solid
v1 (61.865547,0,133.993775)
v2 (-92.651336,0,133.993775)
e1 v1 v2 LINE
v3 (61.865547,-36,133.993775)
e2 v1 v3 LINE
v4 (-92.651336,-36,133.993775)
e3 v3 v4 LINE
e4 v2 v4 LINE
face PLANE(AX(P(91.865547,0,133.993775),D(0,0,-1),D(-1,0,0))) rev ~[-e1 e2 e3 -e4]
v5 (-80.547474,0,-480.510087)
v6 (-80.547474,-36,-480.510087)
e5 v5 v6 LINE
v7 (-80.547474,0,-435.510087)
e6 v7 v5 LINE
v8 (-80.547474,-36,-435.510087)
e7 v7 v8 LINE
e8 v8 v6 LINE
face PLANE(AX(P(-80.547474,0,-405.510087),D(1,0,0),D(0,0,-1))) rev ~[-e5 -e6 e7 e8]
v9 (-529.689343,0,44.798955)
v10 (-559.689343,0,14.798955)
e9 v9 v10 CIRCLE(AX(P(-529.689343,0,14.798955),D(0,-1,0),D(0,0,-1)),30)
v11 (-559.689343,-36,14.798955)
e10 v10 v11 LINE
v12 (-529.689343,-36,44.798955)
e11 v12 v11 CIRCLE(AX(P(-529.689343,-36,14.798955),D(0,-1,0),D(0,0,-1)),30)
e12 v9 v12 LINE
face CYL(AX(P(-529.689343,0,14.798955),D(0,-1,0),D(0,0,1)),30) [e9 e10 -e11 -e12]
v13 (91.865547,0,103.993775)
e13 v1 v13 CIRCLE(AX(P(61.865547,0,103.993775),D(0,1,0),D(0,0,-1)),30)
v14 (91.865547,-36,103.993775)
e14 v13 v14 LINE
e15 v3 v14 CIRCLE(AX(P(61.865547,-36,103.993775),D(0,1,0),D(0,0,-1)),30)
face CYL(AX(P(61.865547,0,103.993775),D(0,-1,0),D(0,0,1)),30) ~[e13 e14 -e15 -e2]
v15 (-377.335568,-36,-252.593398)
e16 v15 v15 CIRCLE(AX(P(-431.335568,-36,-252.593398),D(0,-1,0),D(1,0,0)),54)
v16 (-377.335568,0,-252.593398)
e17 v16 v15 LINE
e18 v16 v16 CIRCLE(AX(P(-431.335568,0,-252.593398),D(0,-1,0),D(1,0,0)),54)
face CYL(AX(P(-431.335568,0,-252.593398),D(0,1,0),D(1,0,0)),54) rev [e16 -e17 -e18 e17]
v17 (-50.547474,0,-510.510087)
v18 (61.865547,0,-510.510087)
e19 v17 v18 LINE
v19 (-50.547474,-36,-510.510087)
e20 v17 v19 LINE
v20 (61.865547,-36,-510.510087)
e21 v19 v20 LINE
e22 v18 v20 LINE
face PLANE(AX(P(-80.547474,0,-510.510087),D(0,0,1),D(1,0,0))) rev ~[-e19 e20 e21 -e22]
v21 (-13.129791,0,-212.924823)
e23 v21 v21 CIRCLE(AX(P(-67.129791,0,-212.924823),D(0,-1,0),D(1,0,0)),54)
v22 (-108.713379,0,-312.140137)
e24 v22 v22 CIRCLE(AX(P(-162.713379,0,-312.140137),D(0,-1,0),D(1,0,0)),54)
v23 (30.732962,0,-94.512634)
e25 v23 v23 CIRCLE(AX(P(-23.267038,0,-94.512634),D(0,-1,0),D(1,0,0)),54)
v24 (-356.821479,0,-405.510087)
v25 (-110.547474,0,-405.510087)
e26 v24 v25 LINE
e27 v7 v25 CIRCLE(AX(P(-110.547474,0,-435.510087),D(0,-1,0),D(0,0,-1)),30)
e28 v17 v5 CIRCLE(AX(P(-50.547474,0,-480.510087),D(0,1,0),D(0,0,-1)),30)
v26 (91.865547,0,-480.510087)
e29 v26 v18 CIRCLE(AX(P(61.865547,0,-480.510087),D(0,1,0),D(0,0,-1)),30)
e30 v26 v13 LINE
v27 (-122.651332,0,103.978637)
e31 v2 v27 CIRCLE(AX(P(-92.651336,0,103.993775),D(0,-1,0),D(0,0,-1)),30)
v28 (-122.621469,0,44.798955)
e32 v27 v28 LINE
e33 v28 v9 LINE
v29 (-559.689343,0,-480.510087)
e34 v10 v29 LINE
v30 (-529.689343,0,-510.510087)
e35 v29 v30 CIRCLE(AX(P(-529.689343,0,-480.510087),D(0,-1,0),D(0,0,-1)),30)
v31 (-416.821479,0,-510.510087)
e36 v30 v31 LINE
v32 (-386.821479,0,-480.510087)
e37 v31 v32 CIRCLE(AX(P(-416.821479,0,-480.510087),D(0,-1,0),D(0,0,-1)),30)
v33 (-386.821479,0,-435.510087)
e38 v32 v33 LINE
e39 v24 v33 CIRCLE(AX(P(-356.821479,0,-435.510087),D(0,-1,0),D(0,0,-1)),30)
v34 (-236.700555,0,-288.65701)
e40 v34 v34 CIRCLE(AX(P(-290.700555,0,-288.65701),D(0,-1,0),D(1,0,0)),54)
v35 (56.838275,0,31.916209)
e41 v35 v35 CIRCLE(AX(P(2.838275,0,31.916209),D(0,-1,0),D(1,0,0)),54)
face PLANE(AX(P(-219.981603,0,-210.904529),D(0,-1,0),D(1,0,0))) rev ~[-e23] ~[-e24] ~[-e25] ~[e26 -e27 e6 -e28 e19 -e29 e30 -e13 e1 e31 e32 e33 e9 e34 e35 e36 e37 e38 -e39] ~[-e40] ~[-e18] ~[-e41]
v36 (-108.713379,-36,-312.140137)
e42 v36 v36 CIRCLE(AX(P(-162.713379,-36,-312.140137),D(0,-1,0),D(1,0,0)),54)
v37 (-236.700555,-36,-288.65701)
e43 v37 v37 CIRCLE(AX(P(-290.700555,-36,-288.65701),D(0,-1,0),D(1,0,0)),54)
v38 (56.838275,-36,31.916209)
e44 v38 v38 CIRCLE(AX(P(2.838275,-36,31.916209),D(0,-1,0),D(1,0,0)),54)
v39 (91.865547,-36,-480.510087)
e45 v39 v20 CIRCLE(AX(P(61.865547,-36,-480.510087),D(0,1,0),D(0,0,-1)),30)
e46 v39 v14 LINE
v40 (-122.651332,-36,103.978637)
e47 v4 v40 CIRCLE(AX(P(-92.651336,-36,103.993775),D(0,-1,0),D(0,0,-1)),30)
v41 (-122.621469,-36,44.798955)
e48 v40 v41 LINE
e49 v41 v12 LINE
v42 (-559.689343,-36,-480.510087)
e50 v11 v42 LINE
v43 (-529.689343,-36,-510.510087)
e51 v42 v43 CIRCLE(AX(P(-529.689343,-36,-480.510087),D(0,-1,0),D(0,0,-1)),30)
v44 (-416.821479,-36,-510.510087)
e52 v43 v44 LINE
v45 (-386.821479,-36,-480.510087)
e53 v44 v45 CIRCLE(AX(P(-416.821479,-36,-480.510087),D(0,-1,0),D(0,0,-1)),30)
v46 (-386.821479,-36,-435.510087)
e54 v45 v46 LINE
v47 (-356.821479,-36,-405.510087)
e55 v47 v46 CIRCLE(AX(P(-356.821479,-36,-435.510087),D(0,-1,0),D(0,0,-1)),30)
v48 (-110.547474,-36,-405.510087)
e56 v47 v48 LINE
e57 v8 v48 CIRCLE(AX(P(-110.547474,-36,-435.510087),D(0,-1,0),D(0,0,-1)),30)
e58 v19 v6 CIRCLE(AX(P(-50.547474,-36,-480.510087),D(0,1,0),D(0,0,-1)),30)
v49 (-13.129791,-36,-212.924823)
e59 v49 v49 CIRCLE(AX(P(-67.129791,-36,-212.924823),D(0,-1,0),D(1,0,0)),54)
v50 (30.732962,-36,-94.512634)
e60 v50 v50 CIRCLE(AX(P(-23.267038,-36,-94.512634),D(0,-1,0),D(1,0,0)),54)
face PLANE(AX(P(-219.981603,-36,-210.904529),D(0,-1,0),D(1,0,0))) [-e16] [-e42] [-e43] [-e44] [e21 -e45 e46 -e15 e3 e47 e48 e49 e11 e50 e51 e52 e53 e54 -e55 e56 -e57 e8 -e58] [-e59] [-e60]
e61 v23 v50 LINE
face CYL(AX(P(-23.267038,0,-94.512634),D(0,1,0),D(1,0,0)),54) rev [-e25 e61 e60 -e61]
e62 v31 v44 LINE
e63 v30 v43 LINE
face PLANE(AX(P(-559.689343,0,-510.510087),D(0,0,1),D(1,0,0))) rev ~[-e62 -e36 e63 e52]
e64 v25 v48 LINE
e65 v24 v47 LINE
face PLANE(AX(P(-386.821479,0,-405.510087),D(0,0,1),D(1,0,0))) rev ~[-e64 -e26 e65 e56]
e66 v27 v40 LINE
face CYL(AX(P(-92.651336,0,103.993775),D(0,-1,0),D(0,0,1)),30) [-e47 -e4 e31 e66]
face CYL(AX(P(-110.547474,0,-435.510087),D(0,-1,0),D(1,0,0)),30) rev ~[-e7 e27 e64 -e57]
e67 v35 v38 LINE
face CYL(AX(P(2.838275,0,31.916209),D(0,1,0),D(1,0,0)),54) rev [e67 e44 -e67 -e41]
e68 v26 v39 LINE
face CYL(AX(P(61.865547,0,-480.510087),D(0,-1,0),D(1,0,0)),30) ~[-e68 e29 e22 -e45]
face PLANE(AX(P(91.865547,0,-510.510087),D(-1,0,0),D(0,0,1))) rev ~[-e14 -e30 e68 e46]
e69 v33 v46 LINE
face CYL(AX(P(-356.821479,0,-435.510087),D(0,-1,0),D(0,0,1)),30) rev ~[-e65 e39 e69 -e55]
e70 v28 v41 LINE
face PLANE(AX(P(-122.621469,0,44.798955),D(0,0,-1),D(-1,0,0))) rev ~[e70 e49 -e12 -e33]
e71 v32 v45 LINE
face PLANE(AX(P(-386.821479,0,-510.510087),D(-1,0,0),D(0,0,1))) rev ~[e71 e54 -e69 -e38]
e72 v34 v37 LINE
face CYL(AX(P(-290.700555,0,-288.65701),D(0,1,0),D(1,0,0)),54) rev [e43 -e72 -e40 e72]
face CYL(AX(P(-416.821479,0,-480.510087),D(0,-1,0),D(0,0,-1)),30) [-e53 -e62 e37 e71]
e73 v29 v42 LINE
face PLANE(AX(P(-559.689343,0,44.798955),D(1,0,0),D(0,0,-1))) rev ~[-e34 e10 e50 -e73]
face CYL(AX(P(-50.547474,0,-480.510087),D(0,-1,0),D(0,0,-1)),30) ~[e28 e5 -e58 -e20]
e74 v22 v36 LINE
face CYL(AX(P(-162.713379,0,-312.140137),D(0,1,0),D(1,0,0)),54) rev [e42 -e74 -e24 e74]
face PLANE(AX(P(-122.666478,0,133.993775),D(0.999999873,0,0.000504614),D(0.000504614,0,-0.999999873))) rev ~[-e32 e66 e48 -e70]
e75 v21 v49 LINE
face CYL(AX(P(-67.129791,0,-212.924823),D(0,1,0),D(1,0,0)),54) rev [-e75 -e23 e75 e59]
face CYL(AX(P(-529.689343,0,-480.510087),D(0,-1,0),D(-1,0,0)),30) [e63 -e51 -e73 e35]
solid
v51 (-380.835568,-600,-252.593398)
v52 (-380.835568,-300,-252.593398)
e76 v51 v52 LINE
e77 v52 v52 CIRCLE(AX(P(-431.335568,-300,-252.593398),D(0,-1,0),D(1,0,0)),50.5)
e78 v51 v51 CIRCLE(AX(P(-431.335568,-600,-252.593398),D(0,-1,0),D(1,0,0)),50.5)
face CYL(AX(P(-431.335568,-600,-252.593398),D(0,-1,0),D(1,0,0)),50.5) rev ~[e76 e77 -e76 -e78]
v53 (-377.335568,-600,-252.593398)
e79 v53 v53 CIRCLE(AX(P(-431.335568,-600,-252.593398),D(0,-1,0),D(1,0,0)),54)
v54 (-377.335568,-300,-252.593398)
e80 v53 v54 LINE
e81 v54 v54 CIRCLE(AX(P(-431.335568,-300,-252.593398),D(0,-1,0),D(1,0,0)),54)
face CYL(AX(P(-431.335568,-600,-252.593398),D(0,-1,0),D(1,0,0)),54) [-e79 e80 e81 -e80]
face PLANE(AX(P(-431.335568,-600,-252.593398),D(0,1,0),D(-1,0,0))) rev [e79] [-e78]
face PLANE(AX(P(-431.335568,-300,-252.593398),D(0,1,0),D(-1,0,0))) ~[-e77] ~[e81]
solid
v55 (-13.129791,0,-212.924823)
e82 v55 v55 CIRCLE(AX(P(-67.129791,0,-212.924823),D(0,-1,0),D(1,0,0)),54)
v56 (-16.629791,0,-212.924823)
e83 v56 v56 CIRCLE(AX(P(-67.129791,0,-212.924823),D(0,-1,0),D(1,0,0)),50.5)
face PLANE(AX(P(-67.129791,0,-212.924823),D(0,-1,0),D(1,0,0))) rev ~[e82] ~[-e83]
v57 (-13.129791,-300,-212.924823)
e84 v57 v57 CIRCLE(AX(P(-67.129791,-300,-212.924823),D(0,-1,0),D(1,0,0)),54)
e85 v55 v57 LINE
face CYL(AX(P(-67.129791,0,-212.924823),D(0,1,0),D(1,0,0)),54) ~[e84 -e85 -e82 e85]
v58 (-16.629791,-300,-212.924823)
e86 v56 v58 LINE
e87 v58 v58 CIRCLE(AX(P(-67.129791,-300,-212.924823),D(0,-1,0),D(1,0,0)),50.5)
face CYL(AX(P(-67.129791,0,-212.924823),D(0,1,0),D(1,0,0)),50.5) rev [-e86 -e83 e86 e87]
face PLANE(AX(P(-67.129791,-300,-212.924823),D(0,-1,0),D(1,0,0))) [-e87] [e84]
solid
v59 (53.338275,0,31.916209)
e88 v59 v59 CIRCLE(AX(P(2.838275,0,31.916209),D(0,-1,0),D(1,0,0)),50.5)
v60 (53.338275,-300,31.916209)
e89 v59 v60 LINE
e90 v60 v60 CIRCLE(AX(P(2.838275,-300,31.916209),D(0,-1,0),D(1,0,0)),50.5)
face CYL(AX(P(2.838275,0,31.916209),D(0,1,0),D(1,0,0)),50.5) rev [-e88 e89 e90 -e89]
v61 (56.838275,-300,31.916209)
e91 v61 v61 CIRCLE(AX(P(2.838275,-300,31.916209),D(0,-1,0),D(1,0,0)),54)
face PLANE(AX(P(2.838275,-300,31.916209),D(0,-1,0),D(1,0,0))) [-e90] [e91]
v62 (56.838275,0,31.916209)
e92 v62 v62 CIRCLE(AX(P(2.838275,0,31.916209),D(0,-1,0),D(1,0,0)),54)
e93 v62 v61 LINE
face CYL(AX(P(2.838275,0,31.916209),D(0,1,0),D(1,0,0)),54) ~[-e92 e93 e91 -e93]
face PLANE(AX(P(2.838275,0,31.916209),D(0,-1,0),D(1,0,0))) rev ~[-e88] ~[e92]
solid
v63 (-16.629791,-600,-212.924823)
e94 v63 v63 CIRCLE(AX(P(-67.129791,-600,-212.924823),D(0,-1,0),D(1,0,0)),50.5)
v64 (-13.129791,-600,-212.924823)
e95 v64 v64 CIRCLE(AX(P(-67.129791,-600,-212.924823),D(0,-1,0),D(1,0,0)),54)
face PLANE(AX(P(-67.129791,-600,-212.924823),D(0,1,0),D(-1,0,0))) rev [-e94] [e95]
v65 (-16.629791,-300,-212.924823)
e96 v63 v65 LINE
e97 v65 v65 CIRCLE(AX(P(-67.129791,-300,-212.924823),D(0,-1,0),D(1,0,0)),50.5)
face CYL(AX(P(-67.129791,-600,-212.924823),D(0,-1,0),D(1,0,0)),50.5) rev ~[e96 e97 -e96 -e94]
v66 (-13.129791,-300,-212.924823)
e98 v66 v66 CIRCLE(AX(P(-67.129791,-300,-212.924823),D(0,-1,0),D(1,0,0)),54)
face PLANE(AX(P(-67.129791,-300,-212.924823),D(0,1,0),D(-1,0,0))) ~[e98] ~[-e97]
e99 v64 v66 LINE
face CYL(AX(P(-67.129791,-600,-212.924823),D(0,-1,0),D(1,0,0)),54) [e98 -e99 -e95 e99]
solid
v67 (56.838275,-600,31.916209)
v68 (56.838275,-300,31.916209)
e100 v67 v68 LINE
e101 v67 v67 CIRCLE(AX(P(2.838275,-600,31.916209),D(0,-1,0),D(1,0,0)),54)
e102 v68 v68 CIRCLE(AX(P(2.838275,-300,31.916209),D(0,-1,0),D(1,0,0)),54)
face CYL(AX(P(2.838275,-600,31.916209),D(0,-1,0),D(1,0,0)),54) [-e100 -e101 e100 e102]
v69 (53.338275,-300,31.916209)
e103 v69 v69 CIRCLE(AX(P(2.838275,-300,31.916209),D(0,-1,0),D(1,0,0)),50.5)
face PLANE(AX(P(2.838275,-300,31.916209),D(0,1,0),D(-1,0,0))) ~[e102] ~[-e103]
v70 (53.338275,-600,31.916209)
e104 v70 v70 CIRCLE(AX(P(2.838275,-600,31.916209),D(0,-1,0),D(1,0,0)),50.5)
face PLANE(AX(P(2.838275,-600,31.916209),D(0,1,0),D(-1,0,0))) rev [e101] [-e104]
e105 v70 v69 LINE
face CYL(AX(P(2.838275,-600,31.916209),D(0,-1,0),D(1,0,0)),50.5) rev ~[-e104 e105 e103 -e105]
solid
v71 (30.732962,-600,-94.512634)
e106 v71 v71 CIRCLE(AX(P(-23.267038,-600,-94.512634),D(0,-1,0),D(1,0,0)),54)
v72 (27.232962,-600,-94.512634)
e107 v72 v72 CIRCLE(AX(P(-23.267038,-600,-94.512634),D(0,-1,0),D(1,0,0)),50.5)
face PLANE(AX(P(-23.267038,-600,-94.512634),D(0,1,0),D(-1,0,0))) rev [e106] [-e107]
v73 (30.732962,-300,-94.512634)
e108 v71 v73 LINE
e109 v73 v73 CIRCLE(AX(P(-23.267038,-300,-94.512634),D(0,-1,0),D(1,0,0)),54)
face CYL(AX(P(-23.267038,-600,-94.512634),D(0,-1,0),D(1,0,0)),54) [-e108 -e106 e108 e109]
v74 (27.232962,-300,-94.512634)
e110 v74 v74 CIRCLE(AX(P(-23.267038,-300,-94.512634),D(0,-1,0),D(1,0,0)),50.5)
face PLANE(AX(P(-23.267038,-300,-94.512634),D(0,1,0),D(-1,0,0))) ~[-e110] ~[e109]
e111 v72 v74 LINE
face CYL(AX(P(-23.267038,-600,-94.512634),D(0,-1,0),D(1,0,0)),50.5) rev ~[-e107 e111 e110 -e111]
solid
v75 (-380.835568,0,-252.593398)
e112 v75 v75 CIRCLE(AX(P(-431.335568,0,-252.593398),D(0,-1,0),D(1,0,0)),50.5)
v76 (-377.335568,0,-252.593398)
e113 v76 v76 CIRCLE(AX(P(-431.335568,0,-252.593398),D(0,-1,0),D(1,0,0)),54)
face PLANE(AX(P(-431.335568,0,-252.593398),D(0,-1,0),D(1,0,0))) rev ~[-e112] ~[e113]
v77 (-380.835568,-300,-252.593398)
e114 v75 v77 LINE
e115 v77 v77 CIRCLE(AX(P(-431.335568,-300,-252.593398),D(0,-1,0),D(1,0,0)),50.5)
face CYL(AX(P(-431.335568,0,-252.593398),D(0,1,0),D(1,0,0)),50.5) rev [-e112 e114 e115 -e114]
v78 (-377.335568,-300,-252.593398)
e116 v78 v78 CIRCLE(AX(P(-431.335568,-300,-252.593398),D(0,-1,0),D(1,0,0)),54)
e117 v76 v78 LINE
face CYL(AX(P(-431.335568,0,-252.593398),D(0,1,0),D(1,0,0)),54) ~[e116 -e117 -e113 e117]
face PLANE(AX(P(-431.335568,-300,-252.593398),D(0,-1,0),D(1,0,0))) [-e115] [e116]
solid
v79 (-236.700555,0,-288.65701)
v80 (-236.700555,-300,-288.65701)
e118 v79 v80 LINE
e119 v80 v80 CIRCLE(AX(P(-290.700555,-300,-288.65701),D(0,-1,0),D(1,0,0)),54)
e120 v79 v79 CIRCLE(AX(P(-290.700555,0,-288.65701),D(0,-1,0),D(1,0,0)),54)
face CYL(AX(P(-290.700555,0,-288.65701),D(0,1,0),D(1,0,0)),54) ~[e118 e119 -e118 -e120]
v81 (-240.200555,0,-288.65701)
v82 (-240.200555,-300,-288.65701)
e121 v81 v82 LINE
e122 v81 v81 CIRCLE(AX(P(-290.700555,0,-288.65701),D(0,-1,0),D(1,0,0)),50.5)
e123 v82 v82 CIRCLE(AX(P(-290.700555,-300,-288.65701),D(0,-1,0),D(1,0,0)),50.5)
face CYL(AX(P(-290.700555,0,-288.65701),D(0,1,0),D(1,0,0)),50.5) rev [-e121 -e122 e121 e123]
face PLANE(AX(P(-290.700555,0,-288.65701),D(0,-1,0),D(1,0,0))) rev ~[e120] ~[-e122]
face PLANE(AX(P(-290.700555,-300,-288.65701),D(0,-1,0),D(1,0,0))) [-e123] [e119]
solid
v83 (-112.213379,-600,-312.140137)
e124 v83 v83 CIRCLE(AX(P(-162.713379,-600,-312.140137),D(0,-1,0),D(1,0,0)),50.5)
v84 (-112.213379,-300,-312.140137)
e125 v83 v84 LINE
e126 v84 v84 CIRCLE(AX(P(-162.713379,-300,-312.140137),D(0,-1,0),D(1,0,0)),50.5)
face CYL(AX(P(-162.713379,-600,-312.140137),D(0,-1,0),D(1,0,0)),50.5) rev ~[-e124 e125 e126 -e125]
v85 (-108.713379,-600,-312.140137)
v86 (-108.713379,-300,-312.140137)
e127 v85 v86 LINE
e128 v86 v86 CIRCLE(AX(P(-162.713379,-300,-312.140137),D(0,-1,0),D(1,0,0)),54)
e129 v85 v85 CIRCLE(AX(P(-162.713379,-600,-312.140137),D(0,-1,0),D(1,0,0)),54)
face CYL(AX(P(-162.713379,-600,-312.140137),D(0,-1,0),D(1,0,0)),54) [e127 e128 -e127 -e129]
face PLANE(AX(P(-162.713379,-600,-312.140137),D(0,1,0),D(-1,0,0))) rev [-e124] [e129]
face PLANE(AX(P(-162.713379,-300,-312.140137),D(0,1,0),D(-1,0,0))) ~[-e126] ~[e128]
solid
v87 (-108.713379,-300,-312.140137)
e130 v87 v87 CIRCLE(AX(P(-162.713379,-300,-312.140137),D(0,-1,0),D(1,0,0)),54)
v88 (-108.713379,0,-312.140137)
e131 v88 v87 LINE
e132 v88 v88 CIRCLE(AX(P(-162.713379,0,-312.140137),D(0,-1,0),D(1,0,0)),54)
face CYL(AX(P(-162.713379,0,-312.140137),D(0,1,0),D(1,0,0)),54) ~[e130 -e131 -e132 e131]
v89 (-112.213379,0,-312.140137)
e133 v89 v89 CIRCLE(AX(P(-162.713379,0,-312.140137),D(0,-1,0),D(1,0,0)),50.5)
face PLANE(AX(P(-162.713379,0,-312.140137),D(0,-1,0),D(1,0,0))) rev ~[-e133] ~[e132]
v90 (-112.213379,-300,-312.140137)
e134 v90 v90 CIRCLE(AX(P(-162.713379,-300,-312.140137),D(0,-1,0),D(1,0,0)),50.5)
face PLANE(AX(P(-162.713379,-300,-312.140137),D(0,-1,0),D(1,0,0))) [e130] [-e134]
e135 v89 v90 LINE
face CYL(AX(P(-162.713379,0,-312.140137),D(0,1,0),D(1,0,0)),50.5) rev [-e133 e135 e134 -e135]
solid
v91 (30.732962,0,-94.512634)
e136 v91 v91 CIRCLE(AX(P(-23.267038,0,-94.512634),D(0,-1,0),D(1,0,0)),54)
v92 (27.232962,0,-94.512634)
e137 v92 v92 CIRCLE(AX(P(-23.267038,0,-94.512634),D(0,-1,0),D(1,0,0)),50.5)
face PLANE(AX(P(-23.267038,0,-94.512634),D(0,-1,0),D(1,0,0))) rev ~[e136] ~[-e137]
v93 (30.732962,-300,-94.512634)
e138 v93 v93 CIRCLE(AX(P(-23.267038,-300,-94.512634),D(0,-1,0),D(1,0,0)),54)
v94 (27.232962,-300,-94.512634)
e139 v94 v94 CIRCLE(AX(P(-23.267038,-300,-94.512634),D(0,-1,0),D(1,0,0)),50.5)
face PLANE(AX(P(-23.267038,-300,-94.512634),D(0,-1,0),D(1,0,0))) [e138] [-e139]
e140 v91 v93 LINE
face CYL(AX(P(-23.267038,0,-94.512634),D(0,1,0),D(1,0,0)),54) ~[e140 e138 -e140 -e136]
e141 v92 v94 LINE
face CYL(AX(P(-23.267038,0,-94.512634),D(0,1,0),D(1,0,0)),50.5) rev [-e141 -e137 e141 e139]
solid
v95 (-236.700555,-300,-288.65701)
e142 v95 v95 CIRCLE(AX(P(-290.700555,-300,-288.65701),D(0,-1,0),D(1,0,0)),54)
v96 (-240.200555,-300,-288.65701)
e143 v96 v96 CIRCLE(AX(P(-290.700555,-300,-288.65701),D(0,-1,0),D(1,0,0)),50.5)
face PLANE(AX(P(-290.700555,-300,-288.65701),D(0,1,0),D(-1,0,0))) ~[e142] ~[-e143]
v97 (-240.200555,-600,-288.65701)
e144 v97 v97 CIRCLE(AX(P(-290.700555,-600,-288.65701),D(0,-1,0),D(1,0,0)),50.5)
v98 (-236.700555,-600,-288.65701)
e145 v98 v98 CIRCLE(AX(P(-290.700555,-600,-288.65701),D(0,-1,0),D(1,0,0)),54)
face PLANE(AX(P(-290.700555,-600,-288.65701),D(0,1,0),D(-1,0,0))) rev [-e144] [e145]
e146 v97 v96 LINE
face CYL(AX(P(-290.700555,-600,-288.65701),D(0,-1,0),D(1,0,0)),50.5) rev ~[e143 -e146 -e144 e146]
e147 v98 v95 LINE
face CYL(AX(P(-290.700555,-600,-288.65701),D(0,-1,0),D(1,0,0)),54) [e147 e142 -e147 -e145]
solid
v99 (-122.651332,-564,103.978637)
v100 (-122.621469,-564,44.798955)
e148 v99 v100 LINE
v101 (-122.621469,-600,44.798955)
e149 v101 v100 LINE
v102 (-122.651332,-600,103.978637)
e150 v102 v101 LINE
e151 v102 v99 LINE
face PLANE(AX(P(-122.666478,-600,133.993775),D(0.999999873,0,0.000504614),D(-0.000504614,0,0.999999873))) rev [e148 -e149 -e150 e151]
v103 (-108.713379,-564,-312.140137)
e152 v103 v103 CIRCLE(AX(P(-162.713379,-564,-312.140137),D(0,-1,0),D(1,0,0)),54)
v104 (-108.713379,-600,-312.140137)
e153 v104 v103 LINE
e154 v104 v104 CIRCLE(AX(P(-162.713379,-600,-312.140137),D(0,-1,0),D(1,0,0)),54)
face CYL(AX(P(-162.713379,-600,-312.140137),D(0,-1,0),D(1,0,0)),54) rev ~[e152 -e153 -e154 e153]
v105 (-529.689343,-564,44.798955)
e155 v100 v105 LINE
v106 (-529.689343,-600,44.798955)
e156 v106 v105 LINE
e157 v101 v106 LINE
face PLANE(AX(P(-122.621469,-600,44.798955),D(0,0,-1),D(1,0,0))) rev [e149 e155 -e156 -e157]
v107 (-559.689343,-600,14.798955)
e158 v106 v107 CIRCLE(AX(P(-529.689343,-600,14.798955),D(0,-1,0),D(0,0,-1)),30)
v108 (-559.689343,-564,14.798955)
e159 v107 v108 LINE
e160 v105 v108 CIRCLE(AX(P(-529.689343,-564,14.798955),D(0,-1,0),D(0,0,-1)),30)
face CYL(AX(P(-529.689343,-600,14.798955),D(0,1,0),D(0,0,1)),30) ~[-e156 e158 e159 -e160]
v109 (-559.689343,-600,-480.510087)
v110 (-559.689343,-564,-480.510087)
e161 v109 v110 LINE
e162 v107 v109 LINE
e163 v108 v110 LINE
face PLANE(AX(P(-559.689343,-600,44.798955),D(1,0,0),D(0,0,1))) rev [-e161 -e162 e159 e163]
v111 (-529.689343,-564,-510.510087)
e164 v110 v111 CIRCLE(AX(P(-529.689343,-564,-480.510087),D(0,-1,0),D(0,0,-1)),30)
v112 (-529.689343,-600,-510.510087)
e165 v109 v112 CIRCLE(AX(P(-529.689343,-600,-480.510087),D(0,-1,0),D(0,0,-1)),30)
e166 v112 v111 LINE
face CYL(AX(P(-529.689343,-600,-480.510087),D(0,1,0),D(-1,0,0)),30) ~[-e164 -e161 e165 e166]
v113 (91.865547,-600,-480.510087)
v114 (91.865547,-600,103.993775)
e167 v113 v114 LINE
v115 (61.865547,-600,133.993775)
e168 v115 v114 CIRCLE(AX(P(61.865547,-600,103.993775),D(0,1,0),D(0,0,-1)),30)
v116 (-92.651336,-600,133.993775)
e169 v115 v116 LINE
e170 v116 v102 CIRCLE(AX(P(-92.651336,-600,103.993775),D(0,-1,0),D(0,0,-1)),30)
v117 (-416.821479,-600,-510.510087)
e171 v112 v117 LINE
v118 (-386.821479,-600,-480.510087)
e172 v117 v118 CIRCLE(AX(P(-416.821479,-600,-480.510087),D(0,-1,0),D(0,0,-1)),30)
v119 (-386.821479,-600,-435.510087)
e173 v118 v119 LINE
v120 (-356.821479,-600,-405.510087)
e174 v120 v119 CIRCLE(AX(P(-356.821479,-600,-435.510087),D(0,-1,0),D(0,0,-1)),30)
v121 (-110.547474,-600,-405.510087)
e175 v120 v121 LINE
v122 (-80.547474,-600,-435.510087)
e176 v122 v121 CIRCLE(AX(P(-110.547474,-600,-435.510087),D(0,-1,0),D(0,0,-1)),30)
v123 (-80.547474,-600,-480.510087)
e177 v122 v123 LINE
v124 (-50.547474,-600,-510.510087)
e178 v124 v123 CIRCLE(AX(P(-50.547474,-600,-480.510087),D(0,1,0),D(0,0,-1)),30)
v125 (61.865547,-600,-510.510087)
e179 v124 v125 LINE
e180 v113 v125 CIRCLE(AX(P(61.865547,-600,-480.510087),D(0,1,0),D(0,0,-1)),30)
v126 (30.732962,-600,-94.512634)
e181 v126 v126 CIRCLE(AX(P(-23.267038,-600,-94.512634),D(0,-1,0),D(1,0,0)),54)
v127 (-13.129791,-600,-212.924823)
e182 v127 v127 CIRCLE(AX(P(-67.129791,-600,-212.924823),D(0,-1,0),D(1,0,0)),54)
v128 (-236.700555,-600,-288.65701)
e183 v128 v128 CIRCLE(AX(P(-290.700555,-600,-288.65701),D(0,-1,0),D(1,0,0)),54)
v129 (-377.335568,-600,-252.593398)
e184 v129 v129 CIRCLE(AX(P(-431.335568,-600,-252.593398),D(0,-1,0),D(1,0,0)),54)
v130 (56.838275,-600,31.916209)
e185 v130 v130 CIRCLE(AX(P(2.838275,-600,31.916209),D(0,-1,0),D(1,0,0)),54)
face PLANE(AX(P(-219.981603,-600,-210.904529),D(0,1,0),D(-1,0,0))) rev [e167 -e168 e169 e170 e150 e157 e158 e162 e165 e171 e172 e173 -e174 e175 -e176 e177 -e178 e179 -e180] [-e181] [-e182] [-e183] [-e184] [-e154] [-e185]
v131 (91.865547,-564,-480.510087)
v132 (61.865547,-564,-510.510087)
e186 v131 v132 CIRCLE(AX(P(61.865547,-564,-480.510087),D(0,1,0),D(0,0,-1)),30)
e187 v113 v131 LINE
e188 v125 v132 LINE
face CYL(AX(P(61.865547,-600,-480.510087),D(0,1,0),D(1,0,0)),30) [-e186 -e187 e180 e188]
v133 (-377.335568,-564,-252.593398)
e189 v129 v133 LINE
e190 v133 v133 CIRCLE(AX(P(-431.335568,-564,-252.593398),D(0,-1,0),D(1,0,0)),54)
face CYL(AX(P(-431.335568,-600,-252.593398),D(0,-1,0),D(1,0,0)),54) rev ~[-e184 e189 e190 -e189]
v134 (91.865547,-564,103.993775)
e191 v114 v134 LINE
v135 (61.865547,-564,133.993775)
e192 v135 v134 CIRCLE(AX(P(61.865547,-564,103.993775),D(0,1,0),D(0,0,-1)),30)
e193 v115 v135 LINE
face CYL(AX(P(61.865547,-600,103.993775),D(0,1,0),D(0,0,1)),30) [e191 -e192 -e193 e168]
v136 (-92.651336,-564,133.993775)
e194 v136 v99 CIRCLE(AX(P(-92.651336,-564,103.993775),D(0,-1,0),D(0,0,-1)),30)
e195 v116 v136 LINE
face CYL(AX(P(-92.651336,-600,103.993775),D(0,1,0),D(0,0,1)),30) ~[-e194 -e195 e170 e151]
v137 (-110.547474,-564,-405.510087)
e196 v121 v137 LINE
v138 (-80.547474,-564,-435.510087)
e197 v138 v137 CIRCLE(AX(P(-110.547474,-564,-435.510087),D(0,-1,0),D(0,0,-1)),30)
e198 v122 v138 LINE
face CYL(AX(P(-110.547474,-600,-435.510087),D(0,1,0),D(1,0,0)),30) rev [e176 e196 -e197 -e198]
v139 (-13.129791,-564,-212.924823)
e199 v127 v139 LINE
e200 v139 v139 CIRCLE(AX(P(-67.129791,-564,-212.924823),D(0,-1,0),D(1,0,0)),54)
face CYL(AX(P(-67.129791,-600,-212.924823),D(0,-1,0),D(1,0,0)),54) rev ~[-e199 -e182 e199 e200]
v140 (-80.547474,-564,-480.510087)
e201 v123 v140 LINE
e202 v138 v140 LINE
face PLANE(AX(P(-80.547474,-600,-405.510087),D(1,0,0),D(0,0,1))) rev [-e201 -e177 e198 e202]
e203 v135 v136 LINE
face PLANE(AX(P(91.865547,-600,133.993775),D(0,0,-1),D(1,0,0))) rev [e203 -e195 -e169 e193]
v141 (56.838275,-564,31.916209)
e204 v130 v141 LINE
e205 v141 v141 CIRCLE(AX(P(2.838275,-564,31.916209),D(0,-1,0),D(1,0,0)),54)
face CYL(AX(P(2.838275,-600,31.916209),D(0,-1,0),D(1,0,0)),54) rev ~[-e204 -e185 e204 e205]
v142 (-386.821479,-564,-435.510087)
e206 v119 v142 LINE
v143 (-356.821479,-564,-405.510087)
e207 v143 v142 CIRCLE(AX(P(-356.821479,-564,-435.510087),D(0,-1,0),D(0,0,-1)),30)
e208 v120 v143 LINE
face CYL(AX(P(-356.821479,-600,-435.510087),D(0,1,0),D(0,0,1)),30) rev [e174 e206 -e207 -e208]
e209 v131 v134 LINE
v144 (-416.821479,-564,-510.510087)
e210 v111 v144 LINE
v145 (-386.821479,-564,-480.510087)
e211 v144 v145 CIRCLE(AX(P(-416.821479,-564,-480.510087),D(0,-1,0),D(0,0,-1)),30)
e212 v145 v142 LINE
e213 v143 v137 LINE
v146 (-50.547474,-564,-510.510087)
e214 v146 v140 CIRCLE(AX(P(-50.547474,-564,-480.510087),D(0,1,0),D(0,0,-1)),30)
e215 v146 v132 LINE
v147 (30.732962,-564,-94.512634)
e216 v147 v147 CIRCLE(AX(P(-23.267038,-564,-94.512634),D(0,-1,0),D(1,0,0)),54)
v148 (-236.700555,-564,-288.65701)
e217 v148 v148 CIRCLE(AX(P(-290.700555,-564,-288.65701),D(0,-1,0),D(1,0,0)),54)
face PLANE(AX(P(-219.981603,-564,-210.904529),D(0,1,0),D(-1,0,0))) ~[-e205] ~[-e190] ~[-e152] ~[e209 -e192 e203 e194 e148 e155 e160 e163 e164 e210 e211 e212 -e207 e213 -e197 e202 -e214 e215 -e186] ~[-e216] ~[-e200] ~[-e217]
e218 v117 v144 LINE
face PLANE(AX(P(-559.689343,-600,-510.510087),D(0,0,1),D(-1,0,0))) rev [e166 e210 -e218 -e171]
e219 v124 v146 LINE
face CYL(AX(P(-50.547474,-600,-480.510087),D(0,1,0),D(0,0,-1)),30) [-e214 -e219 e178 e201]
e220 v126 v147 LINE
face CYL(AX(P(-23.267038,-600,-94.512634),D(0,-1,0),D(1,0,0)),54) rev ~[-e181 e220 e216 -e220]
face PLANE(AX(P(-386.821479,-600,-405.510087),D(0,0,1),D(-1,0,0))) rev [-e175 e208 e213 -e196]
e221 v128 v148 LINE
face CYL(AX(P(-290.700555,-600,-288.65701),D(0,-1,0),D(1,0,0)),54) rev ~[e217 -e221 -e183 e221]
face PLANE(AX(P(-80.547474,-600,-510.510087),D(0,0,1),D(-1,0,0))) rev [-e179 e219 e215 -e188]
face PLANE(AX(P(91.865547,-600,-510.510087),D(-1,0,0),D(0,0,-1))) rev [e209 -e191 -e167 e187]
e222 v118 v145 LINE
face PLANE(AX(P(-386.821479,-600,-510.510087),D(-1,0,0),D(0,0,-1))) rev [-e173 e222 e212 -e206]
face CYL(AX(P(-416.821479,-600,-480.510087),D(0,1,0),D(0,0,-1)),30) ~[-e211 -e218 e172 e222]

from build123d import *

# Parameters (mm, degrees)
F0_R     = 54
F0_R_2   = 50.5
F1_DEPTH = 300
F2_DEPTH = 36
F3_R     = 30


with BuildPart() as f1:
    # F0 (on Front) → F1 (new body)
    with BuildSketch(Plane.XZ):
        with Locations((2.838275, 31.916209)):
            Circle(F0_R)
        with Locations((2.838275, 31.916209)):
            Circle(F0_R_2, mode=Mode.SUBTRACT)
        with Locations((-23.267038, -94.512634)):
            Circle(F0_R)
        with Locations((-23.267038, -94.512634)):
            Circle(F0_R_2, mode=Mode.SUBTRACT)
        with Locations((-67.129791, -212.924823)):
            Circle(F0_R)
        with Locations((-67.129791, -212.924823)):
            Circle(F0_R_2, mode=Mode.SUBTRACT)
        with Locations((-162.713379, -312.140137)):
            Circle(F0_R)
        with Locations((-162.713379, -312.140137)):
            Circle(F0_R_2, mode=Mode.SUBTRACT)
        with Locations((-290.700555, -288.65701)):
            Circle(F0_R)
        with Locations((-290.700555, -288.65701)):
            Circle(F0_R_2, mode=Mode.SUBTRACT)
        with Locations((-431.335568, -252.593398)):
            Circle(F0_R)
        with Locations((-431.335568, -252.593398)):
            Circle(F0_R_2, mode=Mode.SUBTRACT)
    extrude(amount=F1_DEPTH)


with BuildPart() as f2:
    # F0 (on Front) → F2 (new body)
    with BuildSketch(Plane.XZ):
        Polygon((91.865547, -405.510087), (91.865547, 133.993775), (-117.666478, 133.993775), (-122.666478, 133.993775), (-122.621469, 44.798955), (-559.689343, 44.798955), (-559.689343, -405.510087), (-559.689343, -510.510087), (-386.821479, -510.510087), (-386.821479, -405.510087), (-80.547474, -405.510087), (-80.547474, -510.510087), (91.865547, -510.510087), align=None)
        with Locations((-431.335568, -252.593398)):
            Circle(F0_R, mode=Mode.SUBTRACT)
        with Locations((-290.700555, -288.65701)):
            Circle(F0_R, mode=Mode.SUBTRACT)
        with Locations((-162.713379, -312.140137)):
            Circle(F0_R, mode=Mode.SUBTRACT)
        with Locations((-67.129791, -212.924823)):
            Circle(F0_R, mode=Mode.SUBTRACT)
        with Locations((-23.267038, -94.512634)):
            Circle(F0_R, mode=Mode.SUBTRACT)
        with Locations((2.838275, 31.916209)):
            Circle(F0_R, mode=Mode.SUBTRACT)
    extrude(amount=F2_DEPTH)

    # F3
    f3_edges = [f2.edges().sort_by_distance(p)[0] for p in [
        (-122.666478, -18, 133.993775),
        (-559.689343, -18, 44.798955),
        (-559.689343, -18, -510.510087),
        (-386.821479, -18, -510.510087),
        (-80.547474, -18, -510.510087),
        (-80.547474, -18, -405.510087),
        (-386.821479, -18, -405.510087),
        (91.865547, -18, -510.510087),
        (91.865547, -18, 133.993775),
    ]]
    fillet(f3_edges, radius=F3_R)


with BuildPart() as f4_1:
    # F4: instance of F1
    add(f1.part.mirror(Plane(origin=(-23.267038, -300, -94.512634), x_dir=(1, 0, 0), z_dir=(0, -1, 0))))


with BuildPart() as f4_2:
    # F4: instance of F2
    add(f2.part.mirror(Plane(origin=(-23.267038, -300, -94.512634), x_dir=(1, 0, 0), z_dir=(0, -1, 0))))


solid = Compound([f1.part, f2.part, f4_1.part, f4_2.part])
